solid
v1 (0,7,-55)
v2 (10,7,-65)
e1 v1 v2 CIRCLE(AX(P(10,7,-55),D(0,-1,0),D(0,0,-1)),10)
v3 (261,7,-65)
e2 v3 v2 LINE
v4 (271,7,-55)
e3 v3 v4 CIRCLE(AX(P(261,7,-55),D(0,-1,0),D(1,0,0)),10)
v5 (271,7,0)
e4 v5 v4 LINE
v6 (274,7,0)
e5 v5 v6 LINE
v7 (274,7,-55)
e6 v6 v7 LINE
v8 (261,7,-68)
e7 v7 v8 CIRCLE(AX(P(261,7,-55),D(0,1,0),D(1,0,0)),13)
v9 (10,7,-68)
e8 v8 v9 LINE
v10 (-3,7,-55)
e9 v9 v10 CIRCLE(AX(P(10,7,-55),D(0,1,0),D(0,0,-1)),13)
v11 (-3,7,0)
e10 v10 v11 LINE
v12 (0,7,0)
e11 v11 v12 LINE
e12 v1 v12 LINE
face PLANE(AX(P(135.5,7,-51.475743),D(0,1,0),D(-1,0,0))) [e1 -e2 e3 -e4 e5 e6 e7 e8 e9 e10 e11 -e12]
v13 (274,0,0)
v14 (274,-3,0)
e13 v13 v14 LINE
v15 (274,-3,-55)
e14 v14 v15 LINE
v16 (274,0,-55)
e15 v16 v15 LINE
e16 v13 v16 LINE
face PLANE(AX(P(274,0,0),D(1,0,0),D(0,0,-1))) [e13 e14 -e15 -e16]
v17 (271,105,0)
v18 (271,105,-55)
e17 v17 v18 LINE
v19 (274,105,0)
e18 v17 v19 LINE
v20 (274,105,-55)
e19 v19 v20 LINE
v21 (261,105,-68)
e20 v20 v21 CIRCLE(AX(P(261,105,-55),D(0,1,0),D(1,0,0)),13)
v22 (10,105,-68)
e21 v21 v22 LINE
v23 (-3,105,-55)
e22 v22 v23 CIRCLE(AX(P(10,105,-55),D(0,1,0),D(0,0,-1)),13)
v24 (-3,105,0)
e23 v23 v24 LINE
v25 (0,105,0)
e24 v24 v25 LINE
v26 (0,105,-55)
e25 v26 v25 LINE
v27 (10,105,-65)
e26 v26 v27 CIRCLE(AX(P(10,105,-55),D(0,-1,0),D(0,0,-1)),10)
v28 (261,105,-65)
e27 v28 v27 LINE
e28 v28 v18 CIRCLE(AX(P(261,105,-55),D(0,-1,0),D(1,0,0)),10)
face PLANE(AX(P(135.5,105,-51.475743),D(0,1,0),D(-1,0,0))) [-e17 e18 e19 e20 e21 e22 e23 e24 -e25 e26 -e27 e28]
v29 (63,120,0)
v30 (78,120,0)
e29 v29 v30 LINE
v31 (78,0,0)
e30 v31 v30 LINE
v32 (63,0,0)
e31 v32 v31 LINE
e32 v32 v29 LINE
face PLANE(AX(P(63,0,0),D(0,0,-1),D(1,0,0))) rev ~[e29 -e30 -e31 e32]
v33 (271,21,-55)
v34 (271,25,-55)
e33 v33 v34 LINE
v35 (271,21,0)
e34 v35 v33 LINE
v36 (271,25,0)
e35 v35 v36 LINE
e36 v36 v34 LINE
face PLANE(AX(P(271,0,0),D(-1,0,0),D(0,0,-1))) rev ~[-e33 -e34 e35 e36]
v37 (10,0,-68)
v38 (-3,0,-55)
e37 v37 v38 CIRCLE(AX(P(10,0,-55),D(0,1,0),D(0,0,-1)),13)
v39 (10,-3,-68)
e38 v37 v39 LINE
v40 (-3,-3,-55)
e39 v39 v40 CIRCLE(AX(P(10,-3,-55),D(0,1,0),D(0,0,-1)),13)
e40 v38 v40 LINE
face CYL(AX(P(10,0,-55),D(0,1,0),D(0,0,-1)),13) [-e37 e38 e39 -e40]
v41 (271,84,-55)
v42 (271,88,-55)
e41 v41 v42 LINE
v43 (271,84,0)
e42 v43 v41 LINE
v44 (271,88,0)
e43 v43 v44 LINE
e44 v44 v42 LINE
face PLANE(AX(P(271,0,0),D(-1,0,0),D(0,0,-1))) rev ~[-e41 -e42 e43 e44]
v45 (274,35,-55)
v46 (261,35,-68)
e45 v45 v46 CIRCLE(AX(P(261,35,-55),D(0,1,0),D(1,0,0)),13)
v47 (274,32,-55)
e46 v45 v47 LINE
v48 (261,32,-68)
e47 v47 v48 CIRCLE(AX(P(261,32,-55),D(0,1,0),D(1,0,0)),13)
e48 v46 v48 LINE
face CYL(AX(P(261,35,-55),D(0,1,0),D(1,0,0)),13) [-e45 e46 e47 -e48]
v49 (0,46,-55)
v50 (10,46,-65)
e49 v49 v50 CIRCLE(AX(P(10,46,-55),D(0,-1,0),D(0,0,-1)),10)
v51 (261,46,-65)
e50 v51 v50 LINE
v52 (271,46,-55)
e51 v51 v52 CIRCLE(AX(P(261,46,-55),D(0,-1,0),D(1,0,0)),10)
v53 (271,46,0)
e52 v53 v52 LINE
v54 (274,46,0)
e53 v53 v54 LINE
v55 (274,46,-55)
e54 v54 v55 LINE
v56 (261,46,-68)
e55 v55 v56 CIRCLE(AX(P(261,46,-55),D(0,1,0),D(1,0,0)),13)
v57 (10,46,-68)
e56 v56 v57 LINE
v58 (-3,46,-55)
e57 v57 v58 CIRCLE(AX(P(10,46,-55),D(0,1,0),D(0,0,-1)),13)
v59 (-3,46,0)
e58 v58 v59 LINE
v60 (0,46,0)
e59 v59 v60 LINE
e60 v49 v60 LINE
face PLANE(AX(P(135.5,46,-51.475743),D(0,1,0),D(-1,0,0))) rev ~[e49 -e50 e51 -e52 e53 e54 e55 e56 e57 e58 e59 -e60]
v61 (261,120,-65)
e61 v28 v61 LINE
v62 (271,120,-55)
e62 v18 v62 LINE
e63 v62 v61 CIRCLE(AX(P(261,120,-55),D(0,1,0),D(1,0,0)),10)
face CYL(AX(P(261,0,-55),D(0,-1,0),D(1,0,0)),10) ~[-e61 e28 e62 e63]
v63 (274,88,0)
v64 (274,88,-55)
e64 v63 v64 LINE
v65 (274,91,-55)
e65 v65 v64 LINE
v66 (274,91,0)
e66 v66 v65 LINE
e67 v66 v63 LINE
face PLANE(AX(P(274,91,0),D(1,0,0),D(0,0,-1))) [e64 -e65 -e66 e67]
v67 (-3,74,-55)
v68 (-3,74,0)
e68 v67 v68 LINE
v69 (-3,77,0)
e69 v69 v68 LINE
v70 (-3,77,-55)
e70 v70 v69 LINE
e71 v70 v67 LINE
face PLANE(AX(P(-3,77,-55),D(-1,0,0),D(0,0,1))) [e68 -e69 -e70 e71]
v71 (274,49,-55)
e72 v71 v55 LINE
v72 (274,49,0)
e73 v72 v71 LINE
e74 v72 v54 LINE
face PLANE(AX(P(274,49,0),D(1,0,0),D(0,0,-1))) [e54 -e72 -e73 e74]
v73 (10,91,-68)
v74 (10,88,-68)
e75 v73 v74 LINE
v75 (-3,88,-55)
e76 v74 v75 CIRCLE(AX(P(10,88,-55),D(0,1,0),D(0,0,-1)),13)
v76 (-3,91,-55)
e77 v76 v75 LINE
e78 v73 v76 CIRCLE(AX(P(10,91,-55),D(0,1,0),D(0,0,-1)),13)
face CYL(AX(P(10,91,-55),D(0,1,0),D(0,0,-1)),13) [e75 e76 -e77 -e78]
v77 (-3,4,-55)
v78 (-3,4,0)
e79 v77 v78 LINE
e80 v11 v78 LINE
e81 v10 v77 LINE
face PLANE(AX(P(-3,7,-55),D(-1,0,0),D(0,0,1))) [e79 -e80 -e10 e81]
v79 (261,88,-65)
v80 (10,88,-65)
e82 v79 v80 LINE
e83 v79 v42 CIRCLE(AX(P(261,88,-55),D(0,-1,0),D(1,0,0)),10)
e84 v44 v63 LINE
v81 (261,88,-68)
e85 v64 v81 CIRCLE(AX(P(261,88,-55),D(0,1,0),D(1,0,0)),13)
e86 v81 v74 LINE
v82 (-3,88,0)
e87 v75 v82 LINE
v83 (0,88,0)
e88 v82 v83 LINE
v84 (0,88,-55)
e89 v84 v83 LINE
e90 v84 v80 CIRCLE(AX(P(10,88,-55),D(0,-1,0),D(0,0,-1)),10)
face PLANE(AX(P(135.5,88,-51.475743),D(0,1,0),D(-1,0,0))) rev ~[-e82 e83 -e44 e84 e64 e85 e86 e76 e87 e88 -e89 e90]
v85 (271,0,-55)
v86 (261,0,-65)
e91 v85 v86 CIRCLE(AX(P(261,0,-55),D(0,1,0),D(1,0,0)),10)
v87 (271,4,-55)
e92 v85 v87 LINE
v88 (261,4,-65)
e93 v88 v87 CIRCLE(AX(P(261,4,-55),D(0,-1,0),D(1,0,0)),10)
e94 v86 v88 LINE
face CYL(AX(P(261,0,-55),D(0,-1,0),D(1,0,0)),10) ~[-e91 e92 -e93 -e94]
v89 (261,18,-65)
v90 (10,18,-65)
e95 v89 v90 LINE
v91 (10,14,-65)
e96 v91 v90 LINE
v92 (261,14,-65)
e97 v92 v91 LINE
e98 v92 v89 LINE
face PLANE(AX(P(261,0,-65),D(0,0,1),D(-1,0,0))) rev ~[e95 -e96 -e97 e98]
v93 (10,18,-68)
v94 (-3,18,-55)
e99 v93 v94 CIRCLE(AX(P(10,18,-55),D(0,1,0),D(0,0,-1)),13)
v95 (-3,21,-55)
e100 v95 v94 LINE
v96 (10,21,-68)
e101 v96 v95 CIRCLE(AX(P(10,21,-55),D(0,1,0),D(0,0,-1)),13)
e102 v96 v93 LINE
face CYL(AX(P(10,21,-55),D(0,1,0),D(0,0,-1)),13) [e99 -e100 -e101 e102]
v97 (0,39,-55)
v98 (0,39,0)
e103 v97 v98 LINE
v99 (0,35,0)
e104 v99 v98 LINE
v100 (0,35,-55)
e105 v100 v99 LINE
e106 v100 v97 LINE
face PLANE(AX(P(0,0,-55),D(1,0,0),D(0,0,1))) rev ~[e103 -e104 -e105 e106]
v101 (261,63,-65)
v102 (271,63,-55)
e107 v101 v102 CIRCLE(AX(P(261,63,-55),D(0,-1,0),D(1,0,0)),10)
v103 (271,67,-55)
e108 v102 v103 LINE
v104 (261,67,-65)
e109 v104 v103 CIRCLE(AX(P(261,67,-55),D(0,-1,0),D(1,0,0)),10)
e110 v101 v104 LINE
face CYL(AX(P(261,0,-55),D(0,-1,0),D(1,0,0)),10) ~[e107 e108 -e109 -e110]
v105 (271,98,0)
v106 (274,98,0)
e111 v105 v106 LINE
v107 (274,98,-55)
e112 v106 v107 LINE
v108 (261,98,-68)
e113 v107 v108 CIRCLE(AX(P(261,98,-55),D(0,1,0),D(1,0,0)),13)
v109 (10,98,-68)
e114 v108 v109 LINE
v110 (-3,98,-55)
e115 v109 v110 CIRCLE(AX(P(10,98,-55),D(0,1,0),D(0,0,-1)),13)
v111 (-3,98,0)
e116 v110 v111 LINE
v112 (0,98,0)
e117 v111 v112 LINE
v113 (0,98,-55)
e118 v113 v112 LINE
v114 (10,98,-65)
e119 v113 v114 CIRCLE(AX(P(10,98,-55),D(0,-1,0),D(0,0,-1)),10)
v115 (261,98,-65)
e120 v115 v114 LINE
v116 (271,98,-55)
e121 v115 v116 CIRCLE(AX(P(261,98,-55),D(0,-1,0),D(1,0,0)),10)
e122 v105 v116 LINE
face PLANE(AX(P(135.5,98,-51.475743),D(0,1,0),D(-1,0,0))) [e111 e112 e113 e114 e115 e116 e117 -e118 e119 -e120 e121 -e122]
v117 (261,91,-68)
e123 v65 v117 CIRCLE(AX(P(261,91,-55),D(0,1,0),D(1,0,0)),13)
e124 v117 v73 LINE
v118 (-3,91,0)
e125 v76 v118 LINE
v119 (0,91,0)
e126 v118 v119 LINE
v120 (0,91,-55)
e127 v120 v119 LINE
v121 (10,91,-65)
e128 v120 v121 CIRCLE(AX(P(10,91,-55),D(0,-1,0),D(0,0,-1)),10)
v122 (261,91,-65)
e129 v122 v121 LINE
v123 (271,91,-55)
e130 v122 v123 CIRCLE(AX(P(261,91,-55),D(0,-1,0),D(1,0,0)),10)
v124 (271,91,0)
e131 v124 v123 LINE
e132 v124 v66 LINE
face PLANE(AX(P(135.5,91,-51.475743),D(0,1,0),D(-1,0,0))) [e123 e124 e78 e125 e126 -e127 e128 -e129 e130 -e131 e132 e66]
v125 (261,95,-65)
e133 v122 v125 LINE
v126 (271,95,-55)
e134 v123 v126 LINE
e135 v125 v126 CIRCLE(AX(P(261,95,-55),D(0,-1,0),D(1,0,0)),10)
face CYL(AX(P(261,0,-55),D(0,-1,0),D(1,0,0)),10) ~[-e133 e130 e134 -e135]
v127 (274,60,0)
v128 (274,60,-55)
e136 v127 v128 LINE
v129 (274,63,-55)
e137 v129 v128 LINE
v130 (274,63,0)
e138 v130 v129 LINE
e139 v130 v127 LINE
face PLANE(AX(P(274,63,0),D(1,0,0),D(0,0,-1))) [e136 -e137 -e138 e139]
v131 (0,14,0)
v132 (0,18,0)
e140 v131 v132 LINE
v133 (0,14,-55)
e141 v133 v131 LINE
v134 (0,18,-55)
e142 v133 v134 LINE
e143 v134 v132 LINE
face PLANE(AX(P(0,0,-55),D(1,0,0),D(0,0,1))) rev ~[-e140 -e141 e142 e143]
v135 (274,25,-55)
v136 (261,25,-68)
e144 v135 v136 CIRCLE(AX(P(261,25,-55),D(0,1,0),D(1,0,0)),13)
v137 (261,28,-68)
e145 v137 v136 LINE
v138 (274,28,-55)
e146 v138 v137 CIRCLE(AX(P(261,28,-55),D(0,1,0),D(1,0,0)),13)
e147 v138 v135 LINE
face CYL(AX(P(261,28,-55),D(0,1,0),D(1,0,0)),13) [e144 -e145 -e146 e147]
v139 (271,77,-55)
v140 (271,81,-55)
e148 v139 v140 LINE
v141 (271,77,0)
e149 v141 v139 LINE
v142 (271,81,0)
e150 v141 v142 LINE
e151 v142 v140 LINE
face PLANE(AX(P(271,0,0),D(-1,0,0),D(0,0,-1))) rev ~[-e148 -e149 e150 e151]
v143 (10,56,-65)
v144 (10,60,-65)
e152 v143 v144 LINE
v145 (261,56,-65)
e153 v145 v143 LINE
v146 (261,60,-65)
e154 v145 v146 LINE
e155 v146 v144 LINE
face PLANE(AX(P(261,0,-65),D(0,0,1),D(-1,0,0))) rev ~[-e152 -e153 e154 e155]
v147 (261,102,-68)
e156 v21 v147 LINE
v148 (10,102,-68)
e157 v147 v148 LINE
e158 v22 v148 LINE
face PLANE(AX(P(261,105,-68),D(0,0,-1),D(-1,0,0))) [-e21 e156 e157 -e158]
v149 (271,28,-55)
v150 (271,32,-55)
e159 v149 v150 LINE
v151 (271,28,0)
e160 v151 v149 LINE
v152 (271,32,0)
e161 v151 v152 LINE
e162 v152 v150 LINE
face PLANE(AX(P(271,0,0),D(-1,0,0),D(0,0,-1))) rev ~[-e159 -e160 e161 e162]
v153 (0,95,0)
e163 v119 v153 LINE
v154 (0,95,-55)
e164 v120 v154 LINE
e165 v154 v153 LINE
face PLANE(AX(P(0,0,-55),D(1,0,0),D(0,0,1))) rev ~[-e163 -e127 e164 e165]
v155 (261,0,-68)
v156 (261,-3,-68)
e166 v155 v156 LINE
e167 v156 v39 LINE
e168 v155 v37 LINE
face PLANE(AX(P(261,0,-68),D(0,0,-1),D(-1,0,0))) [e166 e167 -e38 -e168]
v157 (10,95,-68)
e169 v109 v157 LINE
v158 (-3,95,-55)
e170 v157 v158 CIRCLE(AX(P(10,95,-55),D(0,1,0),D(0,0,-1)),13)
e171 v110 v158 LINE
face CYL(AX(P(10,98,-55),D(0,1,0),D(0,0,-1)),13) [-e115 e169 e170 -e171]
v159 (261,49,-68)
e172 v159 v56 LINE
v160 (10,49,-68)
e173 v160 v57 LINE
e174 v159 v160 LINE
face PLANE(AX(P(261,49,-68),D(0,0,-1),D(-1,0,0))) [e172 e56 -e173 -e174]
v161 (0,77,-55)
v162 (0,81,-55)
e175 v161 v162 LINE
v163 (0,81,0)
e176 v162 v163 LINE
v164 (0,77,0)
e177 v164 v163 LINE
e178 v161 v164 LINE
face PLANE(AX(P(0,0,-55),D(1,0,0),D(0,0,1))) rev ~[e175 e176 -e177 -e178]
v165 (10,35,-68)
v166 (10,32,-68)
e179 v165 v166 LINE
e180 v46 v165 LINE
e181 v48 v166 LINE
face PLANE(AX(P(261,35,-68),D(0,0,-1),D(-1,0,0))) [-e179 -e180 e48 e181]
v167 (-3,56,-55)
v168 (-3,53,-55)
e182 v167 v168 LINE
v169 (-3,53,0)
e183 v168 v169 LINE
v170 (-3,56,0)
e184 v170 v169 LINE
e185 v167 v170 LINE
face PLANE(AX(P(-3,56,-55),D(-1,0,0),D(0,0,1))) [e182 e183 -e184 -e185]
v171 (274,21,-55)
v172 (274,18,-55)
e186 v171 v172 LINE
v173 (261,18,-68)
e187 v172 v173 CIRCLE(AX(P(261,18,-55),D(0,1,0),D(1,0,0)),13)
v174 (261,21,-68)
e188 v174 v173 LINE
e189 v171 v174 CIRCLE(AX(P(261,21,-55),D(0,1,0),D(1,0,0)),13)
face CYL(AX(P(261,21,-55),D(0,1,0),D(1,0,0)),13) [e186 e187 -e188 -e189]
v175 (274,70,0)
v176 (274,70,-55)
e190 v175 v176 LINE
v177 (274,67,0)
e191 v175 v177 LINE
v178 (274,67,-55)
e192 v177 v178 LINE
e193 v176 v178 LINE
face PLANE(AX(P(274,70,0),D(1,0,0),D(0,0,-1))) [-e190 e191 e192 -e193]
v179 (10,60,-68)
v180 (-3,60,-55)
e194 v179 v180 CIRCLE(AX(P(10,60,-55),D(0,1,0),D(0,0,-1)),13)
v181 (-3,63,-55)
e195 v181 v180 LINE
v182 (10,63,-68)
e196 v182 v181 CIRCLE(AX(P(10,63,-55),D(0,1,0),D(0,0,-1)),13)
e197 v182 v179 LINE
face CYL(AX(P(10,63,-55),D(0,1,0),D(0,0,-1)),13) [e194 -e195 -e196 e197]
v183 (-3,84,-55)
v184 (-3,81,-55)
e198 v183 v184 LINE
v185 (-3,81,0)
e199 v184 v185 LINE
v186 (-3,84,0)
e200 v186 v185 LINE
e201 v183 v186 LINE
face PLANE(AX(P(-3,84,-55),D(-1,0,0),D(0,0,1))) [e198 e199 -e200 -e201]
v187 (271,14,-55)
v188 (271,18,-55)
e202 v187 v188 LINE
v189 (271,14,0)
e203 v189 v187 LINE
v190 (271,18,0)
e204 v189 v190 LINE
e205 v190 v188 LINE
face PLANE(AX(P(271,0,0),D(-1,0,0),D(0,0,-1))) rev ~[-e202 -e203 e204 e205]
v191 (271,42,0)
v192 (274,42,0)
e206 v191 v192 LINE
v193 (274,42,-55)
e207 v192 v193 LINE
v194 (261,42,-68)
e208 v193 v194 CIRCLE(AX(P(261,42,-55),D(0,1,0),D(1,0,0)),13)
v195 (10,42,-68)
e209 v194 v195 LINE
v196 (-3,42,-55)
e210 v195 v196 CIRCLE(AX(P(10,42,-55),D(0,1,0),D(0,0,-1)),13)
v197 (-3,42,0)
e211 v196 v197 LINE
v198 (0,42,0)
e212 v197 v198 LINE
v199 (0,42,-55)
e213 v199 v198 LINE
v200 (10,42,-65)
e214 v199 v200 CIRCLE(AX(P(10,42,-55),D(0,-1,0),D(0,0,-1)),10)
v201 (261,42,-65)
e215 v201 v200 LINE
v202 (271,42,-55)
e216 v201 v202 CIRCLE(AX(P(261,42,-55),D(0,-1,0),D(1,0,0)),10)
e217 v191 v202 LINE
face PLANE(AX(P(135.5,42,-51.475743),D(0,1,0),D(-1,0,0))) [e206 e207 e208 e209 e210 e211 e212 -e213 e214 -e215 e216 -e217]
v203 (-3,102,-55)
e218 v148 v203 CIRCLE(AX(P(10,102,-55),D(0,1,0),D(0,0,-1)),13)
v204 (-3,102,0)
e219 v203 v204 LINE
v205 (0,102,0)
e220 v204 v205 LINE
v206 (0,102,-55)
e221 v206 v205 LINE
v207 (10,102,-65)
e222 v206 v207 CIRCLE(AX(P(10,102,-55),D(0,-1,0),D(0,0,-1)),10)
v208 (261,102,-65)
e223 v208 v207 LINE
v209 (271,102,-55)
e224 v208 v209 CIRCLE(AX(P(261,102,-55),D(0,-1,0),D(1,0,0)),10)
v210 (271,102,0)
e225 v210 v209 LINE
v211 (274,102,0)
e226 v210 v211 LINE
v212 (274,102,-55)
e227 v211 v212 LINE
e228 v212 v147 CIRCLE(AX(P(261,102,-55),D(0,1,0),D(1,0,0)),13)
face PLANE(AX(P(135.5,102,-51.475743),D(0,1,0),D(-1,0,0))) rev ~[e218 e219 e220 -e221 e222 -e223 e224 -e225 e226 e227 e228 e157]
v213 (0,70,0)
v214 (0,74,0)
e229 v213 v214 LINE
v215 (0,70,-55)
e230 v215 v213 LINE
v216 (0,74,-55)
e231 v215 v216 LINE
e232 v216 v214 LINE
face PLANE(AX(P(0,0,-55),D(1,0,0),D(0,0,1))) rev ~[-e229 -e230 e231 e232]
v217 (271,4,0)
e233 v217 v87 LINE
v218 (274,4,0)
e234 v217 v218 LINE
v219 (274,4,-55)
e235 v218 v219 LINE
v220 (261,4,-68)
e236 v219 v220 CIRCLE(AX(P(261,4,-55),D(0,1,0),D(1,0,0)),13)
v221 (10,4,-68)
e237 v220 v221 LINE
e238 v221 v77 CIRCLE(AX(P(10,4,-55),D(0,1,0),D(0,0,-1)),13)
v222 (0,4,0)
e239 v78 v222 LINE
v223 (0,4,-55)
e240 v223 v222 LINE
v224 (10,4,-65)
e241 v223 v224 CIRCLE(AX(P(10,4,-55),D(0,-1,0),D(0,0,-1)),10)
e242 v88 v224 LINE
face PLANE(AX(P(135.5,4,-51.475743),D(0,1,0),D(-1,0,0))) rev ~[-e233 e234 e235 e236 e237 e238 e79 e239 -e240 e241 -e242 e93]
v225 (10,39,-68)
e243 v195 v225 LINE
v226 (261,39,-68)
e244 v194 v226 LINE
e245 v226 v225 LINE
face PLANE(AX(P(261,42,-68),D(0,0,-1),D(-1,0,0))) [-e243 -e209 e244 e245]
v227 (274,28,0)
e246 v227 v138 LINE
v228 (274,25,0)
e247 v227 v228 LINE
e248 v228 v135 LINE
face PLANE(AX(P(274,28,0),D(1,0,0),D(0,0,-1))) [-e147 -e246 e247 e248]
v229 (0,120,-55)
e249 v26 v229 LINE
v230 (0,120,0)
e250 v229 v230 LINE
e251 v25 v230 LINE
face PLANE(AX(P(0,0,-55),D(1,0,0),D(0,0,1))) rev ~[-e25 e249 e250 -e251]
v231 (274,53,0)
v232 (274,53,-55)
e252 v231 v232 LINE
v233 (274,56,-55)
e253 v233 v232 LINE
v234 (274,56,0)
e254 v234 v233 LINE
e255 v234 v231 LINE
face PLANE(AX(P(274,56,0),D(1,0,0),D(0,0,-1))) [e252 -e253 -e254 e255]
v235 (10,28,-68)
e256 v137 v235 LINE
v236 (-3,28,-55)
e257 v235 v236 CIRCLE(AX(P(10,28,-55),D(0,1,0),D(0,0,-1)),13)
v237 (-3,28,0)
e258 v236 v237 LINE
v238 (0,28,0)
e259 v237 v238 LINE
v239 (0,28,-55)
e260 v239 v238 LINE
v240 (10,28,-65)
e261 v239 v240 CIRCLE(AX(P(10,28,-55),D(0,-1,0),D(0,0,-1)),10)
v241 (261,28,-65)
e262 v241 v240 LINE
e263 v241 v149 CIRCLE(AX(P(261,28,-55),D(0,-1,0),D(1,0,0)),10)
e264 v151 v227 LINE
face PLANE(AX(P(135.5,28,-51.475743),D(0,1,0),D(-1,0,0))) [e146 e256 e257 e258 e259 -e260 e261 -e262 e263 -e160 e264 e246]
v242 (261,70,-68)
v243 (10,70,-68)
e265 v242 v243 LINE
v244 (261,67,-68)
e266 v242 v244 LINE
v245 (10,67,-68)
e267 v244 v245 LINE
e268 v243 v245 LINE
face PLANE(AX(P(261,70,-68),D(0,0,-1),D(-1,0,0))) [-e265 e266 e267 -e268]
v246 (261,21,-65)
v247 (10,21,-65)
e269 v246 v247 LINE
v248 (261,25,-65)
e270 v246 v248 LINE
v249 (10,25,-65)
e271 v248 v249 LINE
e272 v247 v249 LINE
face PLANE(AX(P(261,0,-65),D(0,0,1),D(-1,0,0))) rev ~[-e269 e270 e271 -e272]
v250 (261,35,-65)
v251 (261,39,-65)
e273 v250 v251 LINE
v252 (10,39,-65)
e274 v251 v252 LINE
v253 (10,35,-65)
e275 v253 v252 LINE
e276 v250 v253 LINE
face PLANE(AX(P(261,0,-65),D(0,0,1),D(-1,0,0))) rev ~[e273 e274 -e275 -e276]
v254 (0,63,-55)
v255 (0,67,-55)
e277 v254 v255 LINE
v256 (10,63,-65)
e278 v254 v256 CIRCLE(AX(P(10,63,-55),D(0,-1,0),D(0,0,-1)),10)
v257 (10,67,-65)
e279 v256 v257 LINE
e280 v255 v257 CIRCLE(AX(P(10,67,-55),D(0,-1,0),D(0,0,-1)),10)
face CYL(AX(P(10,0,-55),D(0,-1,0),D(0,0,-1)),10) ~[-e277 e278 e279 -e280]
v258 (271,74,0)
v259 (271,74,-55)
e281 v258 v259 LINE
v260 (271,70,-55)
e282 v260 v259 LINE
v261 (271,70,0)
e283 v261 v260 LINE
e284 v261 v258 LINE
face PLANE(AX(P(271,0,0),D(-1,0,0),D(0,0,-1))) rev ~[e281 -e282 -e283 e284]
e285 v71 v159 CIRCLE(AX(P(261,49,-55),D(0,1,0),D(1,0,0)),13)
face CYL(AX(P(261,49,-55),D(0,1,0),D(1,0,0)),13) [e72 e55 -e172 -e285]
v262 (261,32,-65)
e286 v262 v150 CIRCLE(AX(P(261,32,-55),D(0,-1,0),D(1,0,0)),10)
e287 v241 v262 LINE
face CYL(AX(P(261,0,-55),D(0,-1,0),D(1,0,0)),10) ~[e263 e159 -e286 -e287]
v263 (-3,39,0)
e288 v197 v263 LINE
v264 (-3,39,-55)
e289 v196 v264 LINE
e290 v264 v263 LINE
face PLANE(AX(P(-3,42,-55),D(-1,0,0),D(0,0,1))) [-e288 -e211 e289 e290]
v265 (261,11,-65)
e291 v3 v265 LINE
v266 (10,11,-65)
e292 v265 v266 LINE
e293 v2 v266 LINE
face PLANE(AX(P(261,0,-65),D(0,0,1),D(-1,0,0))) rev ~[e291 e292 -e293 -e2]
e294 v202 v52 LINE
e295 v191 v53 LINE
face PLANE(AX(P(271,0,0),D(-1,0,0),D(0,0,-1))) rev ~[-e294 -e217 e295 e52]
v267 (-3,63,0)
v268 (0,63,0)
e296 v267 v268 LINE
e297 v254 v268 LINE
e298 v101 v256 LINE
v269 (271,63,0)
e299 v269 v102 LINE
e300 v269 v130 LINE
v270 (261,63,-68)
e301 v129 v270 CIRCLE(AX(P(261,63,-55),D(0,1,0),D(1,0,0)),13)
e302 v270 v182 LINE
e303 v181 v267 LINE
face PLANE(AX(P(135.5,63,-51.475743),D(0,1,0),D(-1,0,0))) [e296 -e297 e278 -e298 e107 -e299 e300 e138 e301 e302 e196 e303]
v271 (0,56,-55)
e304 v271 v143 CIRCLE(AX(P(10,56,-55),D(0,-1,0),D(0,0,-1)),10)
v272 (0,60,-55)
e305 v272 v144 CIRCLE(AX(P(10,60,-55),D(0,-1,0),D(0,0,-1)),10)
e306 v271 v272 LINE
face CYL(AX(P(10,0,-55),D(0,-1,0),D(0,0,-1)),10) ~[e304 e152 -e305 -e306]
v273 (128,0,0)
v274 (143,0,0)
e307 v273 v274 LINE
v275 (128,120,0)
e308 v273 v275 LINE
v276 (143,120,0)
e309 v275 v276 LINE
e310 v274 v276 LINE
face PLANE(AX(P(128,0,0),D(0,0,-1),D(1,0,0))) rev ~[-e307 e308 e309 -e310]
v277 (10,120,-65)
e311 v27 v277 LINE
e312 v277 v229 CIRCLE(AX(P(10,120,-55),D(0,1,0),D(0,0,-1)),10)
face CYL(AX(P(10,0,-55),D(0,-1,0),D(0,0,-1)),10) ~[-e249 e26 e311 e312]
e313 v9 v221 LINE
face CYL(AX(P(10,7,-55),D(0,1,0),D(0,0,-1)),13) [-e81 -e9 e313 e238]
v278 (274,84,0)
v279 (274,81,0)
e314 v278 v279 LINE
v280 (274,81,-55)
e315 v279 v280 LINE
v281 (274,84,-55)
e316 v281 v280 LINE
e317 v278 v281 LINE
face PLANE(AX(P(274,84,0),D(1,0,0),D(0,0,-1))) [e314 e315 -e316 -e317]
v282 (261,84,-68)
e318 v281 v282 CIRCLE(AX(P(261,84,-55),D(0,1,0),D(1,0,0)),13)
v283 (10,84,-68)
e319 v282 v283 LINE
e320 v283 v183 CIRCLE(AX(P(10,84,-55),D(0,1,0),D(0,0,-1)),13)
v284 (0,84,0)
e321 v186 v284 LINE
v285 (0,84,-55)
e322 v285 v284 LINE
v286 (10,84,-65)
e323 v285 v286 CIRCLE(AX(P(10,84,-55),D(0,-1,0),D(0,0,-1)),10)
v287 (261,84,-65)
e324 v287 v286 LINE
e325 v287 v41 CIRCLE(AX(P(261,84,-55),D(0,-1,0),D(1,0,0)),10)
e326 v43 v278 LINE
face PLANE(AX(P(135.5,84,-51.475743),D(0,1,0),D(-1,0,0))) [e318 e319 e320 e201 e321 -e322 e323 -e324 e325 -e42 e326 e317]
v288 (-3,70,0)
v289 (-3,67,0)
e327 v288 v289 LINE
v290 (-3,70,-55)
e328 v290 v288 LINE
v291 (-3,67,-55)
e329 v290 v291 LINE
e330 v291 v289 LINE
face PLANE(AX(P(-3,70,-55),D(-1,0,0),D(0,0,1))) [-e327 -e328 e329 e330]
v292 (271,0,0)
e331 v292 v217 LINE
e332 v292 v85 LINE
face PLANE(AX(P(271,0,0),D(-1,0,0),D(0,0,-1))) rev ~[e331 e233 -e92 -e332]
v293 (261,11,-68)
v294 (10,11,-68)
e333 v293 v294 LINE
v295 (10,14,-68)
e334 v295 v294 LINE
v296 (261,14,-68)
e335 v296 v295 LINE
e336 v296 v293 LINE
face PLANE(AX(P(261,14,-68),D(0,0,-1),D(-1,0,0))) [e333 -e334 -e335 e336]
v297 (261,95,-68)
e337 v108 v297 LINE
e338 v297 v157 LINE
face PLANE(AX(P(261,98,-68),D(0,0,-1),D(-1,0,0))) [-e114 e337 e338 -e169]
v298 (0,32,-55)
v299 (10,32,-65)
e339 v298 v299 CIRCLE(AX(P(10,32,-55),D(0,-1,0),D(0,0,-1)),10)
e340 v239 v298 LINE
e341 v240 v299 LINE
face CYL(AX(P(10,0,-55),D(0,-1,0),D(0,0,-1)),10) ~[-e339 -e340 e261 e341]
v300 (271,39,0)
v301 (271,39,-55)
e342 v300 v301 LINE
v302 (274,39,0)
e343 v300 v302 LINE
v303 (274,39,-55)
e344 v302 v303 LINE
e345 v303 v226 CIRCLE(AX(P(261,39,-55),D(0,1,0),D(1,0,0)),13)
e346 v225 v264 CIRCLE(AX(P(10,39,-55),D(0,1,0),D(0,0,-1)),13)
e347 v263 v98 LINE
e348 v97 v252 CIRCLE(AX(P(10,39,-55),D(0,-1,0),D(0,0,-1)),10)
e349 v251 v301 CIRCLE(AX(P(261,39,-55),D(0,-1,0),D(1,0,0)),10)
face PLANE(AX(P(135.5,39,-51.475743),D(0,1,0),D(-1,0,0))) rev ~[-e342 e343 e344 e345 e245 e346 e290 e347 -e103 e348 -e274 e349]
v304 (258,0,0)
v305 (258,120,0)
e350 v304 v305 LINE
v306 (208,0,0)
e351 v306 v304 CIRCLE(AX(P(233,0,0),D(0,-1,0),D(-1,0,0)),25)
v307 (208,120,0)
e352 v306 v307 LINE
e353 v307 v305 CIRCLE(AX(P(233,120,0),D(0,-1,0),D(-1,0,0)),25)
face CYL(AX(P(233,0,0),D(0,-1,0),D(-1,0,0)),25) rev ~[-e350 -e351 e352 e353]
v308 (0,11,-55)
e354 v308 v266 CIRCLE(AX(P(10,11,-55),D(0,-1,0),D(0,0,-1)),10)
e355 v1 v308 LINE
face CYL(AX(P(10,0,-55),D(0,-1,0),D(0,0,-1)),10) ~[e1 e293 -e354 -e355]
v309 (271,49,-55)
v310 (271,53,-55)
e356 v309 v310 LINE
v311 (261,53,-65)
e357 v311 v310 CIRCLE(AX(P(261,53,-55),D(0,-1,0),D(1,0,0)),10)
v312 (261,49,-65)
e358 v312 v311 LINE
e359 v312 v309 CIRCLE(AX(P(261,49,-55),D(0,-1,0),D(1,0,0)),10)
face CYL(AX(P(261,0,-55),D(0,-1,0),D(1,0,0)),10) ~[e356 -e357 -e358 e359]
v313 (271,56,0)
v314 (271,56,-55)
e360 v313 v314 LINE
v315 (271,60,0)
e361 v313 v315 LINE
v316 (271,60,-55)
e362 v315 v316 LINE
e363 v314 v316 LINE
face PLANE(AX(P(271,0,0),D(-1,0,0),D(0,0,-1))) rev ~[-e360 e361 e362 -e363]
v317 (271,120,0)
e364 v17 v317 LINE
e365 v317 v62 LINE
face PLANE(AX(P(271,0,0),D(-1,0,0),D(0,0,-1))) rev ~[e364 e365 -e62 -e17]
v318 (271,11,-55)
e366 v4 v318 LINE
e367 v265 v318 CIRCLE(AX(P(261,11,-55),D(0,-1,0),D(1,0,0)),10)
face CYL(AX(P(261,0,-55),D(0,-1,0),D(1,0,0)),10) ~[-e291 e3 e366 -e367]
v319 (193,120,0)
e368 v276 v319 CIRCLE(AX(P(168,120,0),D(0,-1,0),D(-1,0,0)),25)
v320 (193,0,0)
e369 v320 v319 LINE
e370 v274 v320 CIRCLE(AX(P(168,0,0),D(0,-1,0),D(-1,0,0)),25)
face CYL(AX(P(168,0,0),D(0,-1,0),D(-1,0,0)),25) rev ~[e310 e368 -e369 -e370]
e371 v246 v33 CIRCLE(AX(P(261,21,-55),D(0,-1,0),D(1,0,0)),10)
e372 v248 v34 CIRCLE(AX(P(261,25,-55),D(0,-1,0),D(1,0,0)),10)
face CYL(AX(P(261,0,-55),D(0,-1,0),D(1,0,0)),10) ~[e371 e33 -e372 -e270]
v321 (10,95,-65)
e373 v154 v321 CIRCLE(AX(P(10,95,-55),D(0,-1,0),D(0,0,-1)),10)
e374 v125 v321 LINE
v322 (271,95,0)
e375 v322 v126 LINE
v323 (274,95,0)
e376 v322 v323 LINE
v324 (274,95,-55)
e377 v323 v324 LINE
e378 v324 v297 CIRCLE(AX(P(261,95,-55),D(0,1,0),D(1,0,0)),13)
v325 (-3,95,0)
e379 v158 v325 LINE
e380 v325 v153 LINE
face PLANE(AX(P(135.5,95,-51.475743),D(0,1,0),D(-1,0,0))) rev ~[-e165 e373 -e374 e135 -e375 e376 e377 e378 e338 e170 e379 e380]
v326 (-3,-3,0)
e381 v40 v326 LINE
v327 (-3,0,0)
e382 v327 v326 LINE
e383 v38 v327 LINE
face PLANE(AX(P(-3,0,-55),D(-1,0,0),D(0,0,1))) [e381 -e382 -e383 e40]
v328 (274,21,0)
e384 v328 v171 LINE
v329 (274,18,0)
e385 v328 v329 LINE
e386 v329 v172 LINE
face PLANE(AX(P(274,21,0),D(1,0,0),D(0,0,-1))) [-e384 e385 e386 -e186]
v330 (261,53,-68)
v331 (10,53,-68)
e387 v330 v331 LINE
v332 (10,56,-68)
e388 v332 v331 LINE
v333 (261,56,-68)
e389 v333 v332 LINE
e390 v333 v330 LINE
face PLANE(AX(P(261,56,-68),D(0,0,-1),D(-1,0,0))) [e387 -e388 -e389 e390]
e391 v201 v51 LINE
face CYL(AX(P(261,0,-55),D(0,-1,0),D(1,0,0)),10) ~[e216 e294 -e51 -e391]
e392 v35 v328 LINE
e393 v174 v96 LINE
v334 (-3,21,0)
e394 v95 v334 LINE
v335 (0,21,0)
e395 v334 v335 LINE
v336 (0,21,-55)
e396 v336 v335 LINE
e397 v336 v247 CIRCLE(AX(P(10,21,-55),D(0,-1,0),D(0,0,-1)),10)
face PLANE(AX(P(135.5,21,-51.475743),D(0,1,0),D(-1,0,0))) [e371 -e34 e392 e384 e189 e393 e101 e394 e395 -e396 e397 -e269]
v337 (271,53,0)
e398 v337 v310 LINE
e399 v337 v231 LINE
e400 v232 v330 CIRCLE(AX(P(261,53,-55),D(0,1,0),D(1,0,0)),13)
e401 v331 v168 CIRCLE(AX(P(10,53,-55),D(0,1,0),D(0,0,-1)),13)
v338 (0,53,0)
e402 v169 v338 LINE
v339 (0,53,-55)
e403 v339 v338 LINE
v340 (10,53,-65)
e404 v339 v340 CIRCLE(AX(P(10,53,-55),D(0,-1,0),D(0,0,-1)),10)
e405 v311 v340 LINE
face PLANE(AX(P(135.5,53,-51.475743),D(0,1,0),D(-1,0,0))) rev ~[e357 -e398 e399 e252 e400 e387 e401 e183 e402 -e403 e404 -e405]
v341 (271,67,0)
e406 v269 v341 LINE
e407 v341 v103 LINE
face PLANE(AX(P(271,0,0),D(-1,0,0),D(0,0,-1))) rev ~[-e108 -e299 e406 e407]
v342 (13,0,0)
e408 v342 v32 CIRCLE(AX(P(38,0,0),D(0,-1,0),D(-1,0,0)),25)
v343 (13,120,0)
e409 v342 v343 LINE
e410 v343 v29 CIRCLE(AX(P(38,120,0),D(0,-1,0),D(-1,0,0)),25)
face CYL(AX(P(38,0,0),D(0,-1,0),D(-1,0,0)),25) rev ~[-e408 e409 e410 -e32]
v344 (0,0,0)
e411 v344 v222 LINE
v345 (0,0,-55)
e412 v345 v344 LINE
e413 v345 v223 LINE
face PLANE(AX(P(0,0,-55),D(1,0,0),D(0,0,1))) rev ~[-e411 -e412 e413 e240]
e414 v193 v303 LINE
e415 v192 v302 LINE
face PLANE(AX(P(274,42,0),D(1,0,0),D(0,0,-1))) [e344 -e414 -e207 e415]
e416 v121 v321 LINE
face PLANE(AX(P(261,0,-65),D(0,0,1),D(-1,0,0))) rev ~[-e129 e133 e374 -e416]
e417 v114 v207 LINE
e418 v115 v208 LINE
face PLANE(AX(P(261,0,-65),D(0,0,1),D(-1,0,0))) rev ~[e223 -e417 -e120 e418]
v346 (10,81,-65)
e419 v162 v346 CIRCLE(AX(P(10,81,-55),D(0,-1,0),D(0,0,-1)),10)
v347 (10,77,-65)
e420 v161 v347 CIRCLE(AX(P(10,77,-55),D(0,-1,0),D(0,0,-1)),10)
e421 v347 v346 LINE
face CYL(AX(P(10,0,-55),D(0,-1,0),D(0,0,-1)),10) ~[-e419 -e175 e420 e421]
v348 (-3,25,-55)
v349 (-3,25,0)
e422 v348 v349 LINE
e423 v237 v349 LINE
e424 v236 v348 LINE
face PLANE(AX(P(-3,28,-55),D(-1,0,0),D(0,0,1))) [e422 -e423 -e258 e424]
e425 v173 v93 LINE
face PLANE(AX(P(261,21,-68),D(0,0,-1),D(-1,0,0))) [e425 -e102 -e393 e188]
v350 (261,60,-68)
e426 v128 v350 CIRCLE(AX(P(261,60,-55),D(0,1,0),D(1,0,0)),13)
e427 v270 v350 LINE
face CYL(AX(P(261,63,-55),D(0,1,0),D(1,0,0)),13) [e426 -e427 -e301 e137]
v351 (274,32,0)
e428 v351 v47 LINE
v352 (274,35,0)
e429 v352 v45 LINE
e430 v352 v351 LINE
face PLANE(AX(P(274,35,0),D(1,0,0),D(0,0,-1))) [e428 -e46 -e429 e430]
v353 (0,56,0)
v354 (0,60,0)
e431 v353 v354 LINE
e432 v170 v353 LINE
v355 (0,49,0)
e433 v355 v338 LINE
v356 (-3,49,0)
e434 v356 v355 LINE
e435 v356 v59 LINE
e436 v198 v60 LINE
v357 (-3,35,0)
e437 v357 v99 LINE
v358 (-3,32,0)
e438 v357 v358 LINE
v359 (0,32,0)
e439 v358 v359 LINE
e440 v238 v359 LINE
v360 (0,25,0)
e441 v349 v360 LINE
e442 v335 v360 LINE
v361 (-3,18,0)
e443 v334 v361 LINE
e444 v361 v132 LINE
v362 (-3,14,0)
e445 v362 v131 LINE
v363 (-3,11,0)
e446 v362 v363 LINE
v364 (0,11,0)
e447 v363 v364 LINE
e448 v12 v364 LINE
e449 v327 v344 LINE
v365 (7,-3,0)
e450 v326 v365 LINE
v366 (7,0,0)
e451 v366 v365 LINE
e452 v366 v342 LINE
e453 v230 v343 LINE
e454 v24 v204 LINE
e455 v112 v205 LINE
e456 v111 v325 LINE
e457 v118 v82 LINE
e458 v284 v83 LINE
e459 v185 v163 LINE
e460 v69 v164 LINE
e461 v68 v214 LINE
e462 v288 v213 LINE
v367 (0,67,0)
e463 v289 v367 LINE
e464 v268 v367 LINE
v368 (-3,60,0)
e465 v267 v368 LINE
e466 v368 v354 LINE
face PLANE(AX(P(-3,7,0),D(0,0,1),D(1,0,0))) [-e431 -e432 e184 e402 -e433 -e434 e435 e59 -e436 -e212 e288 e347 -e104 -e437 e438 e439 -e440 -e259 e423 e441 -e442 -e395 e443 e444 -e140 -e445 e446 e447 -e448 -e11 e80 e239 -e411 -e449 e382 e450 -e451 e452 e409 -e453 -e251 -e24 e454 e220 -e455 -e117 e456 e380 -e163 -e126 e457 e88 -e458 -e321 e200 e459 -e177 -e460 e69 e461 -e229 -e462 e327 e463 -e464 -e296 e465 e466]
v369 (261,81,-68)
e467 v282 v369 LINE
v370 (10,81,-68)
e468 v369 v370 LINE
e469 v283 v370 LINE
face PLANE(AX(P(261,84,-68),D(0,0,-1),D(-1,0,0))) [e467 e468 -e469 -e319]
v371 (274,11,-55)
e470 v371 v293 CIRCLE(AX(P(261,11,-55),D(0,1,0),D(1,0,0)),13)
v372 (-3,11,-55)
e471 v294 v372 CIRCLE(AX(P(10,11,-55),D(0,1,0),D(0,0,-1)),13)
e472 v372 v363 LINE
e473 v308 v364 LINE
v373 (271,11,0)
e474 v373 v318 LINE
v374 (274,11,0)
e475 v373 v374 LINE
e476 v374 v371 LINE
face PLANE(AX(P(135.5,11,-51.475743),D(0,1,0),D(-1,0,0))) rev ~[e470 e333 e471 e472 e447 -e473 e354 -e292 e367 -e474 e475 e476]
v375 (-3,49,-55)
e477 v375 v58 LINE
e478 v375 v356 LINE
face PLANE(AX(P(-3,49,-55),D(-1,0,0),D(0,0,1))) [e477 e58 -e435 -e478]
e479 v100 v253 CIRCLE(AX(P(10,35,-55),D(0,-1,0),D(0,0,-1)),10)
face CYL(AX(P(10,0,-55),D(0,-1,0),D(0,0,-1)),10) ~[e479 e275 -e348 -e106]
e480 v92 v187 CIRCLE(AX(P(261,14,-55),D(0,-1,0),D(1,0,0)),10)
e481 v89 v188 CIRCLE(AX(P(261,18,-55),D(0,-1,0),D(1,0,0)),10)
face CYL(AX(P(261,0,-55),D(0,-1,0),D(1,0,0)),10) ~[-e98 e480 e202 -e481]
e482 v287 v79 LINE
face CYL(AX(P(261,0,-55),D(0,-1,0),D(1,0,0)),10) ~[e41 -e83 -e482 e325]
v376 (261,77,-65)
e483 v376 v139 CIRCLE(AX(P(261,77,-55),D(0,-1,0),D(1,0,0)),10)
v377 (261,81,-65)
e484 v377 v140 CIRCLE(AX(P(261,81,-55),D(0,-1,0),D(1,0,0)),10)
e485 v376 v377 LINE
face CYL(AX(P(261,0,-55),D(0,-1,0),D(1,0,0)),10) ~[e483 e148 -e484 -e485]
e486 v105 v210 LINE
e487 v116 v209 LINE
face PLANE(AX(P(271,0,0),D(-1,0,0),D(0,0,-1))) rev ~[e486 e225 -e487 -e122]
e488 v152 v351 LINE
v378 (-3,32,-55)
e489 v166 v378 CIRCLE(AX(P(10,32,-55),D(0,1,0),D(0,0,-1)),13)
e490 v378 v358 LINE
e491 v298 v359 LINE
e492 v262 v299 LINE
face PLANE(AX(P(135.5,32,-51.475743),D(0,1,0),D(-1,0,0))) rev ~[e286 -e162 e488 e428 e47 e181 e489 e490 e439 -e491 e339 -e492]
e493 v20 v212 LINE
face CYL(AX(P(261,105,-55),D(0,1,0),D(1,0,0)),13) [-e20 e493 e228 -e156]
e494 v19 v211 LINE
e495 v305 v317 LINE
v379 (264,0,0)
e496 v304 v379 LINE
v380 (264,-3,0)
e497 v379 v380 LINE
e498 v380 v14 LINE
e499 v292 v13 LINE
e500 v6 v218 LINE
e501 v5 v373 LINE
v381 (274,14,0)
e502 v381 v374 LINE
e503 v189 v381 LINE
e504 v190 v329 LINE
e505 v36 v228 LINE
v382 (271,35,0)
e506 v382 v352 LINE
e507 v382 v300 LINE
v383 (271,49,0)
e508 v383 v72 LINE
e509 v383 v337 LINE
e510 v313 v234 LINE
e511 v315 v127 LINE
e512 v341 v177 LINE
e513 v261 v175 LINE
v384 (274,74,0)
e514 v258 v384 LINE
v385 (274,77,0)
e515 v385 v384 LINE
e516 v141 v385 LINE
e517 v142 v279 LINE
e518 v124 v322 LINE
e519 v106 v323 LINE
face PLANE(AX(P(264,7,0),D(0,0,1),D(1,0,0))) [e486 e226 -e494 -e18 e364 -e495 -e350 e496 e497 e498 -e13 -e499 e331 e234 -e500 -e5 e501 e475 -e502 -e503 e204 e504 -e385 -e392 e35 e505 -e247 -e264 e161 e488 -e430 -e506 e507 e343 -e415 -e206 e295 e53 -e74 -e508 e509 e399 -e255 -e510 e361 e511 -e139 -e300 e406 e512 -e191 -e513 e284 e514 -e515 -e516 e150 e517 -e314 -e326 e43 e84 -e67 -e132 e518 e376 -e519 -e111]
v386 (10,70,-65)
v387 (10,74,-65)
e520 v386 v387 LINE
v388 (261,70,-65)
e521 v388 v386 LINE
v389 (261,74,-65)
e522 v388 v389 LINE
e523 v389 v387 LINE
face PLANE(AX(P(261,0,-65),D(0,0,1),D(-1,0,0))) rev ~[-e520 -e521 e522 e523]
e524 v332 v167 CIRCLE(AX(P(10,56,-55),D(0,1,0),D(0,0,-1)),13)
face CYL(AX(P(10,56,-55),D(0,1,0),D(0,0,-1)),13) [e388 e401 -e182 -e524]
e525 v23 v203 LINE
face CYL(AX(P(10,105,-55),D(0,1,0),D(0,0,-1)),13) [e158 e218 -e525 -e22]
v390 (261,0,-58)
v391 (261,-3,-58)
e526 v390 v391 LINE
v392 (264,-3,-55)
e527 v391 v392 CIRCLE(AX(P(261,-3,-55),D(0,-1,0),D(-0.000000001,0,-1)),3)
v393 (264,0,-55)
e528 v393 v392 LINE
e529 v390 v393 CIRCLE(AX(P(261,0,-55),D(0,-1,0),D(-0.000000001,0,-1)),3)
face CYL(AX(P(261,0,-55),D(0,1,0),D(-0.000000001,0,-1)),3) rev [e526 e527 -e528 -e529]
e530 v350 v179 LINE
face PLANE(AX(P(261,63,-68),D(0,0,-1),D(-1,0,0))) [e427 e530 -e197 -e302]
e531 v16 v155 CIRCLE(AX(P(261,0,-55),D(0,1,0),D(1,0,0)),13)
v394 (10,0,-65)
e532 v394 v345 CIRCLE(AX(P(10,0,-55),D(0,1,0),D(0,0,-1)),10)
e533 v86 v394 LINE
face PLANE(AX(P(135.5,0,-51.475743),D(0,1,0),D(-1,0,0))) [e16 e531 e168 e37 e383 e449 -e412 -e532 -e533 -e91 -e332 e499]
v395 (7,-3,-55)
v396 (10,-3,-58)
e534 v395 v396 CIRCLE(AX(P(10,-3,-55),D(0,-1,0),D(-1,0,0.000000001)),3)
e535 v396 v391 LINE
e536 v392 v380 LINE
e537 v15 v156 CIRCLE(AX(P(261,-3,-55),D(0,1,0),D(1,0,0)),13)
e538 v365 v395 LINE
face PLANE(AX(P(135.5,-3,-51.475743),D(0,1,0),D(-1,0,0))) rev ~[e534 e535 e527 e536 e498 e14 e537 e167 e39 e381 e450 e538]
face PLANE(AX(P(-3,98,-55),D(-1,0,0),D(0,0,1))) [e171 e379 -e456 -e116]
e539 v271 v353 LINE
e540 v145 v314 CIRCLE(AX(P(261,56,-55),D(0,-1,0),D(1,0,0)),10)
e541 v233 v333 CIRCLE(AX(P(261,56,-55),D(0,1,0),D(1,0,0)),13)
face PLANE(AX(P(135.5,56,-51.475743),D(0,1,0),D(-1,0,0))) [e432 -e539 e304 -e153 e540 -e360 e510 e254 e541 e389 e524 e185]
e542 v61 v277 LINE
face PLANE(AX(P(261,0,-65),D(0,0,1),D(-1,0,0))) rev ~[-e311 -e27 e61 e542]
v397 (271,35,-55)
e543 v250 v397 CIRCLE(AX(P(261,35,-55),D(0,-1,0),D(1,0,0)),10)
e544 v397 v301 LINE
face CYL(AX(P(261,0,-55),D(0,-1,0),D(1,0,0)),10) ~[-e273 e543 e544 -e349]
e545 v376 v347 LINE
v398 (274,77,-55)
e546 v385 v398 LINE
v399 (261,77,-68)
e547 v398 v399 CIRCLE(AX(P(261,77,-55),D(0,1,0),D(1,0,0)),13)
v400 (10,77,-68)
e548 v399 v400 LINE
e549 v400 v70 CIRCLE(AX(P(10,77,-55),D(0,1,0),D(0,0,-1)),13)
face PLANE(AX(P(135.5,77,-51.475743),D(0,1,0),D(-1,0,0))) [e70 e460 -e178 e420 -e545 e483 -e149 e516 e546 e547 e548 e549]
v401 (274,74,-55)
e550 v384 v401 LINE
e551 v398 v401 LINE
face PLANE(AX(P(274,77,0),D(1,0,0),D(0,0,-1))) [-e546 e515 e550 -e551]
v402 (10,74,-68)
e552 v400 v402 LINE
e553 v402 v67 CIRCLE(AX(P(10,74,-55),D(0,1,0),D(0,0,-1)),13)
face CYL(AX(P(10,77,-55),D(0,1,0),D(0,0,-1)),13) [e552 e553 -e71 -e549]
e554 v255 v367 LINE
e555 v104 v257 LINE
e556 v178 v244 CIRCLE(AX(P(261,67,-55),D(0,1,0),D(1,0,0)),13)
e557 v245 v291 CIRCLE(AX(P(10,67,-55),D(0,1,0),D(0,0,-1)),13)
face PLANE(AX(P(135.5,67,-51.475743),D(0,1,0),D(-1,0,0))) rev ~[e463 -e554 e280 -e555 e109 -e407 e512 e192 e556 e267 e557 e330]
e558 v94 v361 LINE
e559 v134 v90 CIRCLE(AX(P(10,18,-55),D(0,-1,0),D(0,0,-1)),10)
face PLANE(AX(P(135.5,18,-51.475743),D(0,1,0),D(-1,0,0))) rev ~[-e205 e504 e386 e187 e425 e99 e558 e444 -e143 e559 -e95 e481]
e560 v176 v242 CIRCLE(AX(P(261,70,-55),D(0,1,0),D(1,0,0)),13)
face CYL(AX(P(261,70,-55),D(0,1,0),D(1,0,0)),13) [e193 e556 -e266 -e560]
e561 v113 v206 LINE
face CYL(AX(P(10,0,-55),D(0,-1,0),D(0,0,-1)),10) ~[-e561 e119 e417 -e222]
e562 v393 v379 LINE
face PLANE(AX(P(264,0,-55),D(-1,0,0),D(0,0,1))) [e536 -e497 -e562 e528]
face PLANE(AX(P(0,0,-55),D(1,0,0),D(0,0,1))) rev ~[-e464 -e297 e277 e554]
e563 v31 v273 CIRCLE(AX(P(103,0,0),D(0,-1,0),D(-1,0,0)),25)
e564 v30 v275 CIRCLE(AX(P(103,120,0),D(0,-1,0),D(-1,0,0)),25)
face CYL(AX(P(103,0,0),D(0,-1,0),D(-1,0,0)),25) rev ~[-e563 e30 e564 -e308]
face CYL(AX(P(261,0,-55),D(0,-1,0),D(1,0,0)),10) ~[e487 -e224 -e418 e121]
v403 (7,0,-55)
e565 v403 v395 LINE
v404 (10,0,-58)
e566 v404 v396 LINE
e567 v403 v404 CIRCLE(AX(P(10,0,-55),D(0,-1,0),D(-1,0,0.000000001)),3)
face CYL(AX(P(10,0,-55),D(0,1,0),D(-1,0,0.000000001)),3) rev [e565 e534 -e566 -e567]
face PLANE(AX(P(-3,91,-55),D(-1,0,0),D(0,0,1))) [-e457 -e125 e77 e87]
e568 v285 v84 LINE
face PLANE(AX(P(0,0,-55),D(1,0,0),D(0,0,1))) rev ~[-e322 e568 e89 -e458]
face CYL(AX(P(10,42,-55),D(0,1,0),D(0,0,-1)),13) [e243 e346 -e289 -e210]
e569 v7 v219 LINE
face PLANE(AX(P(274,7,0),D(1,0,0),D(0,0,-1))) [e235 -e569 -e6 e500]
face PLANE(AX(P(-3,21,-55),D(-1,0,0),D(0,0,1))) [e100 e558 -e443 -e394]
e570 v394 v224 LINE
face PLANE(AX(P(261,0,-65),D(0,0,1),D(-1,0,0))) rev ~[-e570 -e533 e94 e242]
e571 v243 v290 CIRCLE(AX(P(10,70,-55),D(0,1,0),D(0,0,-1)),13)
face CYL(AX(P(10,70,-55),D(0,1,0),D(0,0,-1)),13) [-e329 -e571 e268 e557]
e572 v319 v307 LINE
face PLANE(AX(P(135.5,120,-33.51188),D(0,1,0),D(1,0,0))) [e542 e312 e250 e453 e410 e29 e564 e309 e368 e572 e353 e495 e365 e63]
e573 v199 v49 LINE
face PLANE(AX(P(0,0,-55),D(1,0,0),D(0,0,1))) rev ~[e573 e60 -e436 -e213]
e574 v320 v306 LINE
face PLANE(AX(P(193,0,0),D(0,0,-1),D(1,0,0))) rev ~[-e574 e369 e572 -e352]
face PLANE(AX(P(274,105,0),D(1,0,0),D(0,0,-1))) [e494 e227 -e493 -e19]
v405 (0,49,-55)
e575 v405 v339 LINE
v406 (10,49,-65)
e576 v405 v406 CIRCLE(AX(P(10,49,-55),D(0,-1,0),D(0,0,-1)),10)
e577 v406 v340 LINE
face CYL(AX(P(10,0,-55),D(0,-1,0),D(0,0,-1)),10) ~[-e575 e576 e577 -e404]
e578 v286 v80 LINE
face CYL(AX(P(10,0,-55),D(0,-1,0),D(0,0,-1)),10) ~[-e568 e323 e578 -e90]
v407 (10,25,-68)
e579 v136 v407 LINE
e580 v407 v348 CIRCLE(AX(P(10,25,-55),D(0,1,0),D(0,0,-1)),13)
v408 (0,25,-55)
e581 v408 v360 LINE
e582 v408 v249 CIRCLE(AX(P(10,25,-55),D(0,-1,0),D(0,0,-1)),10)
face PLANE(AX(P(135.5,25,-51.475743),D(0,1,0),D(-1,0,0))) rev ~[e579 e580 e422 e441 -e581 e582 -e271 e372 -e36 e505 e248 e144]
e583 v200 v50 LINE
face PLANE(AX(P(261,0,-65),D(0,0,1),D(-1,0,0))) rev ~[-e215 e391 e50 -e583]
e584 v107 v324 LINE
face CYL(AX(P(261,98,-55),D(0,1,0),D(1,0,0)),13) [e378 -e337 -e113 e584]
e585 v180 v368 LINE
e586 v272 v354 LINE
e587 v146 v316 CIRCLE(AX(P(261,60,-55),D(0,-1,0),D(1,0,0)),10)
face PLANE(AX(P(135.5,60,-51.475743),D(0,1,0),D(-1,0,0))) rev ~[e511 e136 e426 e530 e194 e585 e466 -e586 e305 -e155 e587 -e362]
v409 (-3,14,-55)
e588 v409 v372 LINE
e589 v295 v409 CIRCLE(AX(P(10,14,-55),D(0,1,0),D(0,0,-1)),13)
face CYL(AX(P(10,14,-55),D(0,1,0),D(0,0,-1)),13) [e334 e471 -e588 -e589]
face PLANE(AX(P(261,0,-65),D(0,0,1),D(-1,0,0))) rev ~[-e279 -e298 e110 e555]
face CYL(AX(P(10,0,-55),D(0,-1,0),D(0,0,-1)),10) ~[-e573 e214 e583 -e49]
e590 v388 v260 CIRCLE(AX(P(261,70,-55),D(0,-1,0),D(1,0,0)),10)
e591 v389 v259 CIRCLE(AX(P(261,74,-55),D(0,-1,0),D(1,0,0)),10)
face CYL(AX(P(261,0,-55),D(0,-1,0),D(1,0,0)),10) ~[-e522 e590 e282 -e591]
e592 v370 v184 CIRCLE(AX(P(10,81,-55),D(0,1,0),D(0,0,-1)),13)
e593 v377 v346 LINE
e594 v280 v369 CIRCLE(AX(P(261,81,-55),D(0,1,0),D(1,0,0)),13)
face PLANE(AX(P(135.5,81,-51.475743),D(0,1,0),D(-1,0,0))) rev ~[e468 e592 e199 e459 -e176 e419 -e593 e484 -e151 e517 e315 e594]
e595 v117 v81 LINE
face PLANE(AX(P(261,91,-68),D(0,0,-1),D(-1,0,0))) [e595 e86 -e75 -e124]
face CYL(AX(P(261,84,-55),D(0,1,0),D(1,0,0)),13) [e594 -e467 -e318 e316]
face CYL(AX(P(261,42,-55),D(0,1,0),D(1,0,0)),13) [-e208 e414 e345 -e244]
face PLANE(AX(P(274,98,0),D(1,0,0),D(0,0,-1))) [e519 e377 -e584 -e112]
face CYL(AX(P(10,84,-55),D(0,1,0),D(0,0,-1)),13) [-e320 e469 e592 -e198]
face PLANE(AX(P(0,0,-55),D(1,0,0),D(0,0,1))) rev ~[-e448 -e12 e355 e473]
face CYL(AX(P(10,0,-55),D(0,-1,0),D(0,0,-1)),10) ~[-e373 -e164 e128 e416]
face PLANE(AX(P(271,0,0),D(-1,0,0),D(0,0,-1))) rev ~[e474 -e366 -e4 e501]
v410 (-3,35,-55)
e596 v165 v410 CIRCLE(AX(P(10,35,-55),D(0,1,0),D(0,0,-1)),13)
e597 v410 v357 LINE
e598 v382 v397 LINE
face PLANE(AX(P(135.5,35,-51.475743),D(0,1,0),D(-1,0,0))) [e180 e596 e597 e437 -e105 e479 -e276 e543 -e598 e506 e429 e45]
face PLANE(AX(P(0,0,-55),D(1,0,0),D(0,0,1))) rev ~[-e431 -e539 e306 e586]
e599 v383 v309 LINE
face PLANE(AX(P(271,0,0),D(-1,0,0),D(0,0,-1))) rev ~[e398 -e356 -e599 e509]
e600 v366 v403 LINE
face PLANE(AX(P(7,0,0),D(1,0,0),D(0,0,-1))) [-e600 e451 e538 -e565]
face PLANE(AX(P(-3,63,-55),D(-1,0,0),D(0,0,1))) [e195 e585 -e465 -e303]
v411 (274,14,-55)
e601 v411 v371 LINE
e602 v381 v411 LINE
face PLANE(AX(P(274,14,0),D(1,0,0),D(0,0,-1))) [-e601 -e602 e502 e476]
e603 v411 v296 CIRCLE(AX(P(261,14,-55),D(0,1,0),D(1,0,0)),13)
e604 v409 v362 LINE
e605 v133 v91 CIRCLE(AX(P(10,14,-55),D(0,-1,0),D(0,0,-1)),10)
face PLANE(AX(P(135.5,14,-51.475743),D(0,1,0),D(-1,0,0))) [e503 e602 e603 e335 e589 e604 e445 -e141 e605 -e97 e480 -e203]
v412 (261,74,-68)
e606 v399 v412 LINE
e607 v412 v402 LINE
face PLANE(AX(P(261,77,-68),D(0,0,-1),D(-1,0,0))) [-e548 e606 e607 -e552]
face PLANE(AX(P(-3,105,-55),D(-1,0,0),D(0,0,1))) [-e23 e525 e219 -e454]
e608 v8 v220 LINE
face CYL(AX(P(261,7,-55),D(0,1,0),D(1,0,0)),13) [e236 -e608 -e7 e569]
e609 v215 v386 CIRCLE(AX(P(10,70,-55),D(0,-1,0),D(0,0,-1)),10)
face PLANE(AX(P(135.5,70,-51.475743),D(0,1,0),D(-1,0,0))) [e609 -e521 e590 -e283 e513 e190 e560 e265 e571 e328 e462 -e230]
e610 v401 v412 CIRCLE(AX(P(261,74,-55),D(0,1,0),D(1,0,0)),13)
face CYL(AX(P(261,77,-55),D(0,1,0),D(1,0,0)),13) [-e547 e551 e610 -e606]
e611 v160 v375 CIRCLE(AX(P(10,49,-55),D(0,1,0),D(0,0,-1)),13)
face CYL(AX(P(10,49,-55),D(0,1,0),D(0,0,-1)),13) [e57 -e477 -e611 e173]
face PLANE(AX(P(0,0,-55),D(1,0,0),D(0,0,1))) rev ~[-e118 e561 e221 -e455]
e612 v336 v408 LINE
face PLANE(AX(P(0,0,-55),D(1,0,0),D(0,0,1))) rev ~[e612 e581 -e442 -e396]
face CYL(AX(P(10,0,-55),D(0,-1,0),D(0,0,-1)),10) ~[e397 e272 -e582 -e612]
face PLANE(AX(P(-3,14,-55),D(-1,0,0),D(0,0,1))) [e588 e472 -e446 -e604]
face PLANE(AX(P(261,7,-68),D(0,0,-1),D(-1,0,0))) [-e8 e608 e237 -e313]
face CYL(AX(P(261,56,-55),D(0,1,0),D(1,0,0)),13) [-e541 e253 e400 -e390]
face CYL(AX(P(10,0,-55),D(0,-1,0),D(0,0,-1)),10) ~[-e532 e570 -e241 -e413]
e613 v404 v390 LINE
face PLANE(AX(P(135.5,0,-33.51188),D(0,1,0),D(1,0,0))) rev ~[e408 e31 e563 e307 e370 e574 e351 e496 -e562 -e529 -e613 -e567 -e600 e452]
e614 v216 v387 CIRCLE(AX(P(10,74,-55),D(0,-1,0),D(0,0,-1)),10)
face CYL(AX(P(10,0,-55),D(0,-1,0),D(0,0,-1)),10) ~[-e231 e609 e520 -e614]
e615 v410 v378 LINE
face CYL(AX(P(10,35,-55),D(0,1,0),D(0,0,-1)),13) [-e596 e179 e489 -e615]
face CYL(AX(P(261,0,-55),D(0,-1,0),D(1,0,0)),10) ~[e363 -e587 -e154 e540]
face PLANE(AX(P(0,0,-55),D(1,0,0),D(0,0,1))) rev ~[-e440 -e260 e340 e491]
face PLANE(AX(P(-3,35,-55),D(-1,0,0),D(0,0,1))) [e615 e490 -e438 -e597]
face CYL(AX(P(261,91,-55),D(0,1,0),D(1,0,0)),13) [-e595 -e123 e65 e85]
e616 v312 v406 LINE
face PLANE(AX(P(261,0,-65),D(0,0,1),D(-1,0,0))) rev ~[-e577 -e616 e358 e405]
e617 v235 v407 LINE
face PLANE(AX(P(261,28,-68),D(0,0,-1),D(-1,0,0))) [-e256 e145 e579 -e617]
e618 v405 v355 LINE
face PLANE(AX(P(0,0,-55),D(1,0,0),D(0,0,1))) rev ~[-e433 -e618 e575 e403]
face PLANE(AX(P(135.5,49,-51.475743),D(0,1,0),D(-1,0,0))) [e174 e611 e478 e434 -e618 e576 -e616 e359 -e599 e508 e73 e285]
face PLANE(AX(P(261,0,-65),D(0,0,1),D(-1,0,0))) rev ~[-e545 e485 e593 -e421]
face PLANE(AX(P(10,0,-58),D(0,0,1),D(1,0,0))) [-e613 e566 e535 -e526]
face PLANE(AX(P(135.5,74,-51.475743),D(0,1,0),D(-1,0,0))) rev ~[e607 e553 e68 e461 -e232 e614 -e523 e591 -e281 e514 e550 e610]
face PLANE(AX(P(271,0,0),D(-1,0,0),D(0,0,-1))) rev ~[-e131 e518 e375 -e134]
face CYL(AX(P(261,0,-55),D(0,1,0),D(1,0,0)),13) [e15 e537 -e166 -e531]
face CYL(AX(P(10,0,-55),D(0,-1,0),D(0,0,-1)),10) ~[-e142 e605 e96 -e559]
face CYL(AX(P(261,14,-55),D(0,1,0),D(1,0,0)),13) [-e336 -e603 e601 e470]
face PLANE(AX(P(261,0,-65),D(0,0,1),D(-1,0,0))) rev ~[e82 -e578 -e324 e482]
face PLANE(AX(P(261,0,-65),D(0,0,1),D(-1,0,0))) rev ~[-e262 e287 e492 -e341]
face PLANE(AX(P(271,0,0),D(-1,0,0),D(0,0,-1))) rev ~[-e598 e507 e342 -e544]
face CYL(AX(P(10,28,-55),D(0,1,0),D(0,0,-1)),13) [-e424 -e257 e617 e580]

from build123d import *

# Parameters (mm, degrees)
BOSS_EXTRUDE1_DEPTH = 120
EXTRUDE_THIN1_DEPTH = 3
LPATTERN2_COUNT     = 16
LPATTERN2_PITCH     = 7


with BuildPart() as part:
    # Sketch1 → Boss-Extrude1 (new body)
    with BuildSketch(Plane(origin=(0, 0, 0), x_dir=(1, 0, 0), z_dir=(0, 1, 0))):
        with BuildLine():
            Line((0, 0), (13, 0))
            ThreePointArc((13, 0), (38, 25), (63, 0))
            Line((63, 0), (78, 0))
            ThreePointArc((78, 0), (103, 25), (128, 0))
            Line((128, 0), (143, 0))
            ThreePointArc((143, 0), (168, 25), (193, 0))
            Line((193, 0), (208, 0))
            ThreePointArc((208, 0), (233, 25), (258, 0))
            Line((258, 0), (271, 0))
            Line((271, 0), (271, 55))
            ThreePointArc((271, 55), (268.071067812, 62.071067812), (261, 65))
            Line((261, 65), (10, 65))
            ThreePointArc((10, 65), (2.928932188, 62.071067812), (0, 55))
            Line((0, 55), (0, 0))
        make_face()
    extrude(amount=BOSS_EXTRUDE1_DEPTH)

    # Sketch3 → Extrude-Thin1 (add)
    with BuildSketch(Plane.XZ):
        with BuildLine():
            Line((274, 0), (274, -55))
            ThreePointArc((274, -55), (270.192388155, -64.192388155), (261, -68))
            Line((261, -68), (10, -68))
            ThreePointArc((10, -68), (0.807611845, -64.192388155), (-3, -55))
            Line((-3, -55), (-3, 0))
            Line((-3, 0), (7, 0))
            Line((7, 0), (7, -55))
            ThreePointArc((7, -55), (7.878679656, -57.121320344), (10, -58))
            Line((10, -58), (261, -58))
            ThreePointArc((261, -58), (263.121320344, -57.121320344), (264, -55))
            Line((264, -55), (264, 0))
            Line((264, 0), (274, 0))
        make_face()
    extrude_thin1 = extrude(amount=EXTRUDE_THIN1_DEPTH)

    # LPattern2: Extrude-Thin1 ×16
    with Locations(*[(0, i * LPATTERN2_PITCH, 0) for i in range(1, LPATTERN2_COUNT)]):
        add(extrude_thin1)


solid = part.part
